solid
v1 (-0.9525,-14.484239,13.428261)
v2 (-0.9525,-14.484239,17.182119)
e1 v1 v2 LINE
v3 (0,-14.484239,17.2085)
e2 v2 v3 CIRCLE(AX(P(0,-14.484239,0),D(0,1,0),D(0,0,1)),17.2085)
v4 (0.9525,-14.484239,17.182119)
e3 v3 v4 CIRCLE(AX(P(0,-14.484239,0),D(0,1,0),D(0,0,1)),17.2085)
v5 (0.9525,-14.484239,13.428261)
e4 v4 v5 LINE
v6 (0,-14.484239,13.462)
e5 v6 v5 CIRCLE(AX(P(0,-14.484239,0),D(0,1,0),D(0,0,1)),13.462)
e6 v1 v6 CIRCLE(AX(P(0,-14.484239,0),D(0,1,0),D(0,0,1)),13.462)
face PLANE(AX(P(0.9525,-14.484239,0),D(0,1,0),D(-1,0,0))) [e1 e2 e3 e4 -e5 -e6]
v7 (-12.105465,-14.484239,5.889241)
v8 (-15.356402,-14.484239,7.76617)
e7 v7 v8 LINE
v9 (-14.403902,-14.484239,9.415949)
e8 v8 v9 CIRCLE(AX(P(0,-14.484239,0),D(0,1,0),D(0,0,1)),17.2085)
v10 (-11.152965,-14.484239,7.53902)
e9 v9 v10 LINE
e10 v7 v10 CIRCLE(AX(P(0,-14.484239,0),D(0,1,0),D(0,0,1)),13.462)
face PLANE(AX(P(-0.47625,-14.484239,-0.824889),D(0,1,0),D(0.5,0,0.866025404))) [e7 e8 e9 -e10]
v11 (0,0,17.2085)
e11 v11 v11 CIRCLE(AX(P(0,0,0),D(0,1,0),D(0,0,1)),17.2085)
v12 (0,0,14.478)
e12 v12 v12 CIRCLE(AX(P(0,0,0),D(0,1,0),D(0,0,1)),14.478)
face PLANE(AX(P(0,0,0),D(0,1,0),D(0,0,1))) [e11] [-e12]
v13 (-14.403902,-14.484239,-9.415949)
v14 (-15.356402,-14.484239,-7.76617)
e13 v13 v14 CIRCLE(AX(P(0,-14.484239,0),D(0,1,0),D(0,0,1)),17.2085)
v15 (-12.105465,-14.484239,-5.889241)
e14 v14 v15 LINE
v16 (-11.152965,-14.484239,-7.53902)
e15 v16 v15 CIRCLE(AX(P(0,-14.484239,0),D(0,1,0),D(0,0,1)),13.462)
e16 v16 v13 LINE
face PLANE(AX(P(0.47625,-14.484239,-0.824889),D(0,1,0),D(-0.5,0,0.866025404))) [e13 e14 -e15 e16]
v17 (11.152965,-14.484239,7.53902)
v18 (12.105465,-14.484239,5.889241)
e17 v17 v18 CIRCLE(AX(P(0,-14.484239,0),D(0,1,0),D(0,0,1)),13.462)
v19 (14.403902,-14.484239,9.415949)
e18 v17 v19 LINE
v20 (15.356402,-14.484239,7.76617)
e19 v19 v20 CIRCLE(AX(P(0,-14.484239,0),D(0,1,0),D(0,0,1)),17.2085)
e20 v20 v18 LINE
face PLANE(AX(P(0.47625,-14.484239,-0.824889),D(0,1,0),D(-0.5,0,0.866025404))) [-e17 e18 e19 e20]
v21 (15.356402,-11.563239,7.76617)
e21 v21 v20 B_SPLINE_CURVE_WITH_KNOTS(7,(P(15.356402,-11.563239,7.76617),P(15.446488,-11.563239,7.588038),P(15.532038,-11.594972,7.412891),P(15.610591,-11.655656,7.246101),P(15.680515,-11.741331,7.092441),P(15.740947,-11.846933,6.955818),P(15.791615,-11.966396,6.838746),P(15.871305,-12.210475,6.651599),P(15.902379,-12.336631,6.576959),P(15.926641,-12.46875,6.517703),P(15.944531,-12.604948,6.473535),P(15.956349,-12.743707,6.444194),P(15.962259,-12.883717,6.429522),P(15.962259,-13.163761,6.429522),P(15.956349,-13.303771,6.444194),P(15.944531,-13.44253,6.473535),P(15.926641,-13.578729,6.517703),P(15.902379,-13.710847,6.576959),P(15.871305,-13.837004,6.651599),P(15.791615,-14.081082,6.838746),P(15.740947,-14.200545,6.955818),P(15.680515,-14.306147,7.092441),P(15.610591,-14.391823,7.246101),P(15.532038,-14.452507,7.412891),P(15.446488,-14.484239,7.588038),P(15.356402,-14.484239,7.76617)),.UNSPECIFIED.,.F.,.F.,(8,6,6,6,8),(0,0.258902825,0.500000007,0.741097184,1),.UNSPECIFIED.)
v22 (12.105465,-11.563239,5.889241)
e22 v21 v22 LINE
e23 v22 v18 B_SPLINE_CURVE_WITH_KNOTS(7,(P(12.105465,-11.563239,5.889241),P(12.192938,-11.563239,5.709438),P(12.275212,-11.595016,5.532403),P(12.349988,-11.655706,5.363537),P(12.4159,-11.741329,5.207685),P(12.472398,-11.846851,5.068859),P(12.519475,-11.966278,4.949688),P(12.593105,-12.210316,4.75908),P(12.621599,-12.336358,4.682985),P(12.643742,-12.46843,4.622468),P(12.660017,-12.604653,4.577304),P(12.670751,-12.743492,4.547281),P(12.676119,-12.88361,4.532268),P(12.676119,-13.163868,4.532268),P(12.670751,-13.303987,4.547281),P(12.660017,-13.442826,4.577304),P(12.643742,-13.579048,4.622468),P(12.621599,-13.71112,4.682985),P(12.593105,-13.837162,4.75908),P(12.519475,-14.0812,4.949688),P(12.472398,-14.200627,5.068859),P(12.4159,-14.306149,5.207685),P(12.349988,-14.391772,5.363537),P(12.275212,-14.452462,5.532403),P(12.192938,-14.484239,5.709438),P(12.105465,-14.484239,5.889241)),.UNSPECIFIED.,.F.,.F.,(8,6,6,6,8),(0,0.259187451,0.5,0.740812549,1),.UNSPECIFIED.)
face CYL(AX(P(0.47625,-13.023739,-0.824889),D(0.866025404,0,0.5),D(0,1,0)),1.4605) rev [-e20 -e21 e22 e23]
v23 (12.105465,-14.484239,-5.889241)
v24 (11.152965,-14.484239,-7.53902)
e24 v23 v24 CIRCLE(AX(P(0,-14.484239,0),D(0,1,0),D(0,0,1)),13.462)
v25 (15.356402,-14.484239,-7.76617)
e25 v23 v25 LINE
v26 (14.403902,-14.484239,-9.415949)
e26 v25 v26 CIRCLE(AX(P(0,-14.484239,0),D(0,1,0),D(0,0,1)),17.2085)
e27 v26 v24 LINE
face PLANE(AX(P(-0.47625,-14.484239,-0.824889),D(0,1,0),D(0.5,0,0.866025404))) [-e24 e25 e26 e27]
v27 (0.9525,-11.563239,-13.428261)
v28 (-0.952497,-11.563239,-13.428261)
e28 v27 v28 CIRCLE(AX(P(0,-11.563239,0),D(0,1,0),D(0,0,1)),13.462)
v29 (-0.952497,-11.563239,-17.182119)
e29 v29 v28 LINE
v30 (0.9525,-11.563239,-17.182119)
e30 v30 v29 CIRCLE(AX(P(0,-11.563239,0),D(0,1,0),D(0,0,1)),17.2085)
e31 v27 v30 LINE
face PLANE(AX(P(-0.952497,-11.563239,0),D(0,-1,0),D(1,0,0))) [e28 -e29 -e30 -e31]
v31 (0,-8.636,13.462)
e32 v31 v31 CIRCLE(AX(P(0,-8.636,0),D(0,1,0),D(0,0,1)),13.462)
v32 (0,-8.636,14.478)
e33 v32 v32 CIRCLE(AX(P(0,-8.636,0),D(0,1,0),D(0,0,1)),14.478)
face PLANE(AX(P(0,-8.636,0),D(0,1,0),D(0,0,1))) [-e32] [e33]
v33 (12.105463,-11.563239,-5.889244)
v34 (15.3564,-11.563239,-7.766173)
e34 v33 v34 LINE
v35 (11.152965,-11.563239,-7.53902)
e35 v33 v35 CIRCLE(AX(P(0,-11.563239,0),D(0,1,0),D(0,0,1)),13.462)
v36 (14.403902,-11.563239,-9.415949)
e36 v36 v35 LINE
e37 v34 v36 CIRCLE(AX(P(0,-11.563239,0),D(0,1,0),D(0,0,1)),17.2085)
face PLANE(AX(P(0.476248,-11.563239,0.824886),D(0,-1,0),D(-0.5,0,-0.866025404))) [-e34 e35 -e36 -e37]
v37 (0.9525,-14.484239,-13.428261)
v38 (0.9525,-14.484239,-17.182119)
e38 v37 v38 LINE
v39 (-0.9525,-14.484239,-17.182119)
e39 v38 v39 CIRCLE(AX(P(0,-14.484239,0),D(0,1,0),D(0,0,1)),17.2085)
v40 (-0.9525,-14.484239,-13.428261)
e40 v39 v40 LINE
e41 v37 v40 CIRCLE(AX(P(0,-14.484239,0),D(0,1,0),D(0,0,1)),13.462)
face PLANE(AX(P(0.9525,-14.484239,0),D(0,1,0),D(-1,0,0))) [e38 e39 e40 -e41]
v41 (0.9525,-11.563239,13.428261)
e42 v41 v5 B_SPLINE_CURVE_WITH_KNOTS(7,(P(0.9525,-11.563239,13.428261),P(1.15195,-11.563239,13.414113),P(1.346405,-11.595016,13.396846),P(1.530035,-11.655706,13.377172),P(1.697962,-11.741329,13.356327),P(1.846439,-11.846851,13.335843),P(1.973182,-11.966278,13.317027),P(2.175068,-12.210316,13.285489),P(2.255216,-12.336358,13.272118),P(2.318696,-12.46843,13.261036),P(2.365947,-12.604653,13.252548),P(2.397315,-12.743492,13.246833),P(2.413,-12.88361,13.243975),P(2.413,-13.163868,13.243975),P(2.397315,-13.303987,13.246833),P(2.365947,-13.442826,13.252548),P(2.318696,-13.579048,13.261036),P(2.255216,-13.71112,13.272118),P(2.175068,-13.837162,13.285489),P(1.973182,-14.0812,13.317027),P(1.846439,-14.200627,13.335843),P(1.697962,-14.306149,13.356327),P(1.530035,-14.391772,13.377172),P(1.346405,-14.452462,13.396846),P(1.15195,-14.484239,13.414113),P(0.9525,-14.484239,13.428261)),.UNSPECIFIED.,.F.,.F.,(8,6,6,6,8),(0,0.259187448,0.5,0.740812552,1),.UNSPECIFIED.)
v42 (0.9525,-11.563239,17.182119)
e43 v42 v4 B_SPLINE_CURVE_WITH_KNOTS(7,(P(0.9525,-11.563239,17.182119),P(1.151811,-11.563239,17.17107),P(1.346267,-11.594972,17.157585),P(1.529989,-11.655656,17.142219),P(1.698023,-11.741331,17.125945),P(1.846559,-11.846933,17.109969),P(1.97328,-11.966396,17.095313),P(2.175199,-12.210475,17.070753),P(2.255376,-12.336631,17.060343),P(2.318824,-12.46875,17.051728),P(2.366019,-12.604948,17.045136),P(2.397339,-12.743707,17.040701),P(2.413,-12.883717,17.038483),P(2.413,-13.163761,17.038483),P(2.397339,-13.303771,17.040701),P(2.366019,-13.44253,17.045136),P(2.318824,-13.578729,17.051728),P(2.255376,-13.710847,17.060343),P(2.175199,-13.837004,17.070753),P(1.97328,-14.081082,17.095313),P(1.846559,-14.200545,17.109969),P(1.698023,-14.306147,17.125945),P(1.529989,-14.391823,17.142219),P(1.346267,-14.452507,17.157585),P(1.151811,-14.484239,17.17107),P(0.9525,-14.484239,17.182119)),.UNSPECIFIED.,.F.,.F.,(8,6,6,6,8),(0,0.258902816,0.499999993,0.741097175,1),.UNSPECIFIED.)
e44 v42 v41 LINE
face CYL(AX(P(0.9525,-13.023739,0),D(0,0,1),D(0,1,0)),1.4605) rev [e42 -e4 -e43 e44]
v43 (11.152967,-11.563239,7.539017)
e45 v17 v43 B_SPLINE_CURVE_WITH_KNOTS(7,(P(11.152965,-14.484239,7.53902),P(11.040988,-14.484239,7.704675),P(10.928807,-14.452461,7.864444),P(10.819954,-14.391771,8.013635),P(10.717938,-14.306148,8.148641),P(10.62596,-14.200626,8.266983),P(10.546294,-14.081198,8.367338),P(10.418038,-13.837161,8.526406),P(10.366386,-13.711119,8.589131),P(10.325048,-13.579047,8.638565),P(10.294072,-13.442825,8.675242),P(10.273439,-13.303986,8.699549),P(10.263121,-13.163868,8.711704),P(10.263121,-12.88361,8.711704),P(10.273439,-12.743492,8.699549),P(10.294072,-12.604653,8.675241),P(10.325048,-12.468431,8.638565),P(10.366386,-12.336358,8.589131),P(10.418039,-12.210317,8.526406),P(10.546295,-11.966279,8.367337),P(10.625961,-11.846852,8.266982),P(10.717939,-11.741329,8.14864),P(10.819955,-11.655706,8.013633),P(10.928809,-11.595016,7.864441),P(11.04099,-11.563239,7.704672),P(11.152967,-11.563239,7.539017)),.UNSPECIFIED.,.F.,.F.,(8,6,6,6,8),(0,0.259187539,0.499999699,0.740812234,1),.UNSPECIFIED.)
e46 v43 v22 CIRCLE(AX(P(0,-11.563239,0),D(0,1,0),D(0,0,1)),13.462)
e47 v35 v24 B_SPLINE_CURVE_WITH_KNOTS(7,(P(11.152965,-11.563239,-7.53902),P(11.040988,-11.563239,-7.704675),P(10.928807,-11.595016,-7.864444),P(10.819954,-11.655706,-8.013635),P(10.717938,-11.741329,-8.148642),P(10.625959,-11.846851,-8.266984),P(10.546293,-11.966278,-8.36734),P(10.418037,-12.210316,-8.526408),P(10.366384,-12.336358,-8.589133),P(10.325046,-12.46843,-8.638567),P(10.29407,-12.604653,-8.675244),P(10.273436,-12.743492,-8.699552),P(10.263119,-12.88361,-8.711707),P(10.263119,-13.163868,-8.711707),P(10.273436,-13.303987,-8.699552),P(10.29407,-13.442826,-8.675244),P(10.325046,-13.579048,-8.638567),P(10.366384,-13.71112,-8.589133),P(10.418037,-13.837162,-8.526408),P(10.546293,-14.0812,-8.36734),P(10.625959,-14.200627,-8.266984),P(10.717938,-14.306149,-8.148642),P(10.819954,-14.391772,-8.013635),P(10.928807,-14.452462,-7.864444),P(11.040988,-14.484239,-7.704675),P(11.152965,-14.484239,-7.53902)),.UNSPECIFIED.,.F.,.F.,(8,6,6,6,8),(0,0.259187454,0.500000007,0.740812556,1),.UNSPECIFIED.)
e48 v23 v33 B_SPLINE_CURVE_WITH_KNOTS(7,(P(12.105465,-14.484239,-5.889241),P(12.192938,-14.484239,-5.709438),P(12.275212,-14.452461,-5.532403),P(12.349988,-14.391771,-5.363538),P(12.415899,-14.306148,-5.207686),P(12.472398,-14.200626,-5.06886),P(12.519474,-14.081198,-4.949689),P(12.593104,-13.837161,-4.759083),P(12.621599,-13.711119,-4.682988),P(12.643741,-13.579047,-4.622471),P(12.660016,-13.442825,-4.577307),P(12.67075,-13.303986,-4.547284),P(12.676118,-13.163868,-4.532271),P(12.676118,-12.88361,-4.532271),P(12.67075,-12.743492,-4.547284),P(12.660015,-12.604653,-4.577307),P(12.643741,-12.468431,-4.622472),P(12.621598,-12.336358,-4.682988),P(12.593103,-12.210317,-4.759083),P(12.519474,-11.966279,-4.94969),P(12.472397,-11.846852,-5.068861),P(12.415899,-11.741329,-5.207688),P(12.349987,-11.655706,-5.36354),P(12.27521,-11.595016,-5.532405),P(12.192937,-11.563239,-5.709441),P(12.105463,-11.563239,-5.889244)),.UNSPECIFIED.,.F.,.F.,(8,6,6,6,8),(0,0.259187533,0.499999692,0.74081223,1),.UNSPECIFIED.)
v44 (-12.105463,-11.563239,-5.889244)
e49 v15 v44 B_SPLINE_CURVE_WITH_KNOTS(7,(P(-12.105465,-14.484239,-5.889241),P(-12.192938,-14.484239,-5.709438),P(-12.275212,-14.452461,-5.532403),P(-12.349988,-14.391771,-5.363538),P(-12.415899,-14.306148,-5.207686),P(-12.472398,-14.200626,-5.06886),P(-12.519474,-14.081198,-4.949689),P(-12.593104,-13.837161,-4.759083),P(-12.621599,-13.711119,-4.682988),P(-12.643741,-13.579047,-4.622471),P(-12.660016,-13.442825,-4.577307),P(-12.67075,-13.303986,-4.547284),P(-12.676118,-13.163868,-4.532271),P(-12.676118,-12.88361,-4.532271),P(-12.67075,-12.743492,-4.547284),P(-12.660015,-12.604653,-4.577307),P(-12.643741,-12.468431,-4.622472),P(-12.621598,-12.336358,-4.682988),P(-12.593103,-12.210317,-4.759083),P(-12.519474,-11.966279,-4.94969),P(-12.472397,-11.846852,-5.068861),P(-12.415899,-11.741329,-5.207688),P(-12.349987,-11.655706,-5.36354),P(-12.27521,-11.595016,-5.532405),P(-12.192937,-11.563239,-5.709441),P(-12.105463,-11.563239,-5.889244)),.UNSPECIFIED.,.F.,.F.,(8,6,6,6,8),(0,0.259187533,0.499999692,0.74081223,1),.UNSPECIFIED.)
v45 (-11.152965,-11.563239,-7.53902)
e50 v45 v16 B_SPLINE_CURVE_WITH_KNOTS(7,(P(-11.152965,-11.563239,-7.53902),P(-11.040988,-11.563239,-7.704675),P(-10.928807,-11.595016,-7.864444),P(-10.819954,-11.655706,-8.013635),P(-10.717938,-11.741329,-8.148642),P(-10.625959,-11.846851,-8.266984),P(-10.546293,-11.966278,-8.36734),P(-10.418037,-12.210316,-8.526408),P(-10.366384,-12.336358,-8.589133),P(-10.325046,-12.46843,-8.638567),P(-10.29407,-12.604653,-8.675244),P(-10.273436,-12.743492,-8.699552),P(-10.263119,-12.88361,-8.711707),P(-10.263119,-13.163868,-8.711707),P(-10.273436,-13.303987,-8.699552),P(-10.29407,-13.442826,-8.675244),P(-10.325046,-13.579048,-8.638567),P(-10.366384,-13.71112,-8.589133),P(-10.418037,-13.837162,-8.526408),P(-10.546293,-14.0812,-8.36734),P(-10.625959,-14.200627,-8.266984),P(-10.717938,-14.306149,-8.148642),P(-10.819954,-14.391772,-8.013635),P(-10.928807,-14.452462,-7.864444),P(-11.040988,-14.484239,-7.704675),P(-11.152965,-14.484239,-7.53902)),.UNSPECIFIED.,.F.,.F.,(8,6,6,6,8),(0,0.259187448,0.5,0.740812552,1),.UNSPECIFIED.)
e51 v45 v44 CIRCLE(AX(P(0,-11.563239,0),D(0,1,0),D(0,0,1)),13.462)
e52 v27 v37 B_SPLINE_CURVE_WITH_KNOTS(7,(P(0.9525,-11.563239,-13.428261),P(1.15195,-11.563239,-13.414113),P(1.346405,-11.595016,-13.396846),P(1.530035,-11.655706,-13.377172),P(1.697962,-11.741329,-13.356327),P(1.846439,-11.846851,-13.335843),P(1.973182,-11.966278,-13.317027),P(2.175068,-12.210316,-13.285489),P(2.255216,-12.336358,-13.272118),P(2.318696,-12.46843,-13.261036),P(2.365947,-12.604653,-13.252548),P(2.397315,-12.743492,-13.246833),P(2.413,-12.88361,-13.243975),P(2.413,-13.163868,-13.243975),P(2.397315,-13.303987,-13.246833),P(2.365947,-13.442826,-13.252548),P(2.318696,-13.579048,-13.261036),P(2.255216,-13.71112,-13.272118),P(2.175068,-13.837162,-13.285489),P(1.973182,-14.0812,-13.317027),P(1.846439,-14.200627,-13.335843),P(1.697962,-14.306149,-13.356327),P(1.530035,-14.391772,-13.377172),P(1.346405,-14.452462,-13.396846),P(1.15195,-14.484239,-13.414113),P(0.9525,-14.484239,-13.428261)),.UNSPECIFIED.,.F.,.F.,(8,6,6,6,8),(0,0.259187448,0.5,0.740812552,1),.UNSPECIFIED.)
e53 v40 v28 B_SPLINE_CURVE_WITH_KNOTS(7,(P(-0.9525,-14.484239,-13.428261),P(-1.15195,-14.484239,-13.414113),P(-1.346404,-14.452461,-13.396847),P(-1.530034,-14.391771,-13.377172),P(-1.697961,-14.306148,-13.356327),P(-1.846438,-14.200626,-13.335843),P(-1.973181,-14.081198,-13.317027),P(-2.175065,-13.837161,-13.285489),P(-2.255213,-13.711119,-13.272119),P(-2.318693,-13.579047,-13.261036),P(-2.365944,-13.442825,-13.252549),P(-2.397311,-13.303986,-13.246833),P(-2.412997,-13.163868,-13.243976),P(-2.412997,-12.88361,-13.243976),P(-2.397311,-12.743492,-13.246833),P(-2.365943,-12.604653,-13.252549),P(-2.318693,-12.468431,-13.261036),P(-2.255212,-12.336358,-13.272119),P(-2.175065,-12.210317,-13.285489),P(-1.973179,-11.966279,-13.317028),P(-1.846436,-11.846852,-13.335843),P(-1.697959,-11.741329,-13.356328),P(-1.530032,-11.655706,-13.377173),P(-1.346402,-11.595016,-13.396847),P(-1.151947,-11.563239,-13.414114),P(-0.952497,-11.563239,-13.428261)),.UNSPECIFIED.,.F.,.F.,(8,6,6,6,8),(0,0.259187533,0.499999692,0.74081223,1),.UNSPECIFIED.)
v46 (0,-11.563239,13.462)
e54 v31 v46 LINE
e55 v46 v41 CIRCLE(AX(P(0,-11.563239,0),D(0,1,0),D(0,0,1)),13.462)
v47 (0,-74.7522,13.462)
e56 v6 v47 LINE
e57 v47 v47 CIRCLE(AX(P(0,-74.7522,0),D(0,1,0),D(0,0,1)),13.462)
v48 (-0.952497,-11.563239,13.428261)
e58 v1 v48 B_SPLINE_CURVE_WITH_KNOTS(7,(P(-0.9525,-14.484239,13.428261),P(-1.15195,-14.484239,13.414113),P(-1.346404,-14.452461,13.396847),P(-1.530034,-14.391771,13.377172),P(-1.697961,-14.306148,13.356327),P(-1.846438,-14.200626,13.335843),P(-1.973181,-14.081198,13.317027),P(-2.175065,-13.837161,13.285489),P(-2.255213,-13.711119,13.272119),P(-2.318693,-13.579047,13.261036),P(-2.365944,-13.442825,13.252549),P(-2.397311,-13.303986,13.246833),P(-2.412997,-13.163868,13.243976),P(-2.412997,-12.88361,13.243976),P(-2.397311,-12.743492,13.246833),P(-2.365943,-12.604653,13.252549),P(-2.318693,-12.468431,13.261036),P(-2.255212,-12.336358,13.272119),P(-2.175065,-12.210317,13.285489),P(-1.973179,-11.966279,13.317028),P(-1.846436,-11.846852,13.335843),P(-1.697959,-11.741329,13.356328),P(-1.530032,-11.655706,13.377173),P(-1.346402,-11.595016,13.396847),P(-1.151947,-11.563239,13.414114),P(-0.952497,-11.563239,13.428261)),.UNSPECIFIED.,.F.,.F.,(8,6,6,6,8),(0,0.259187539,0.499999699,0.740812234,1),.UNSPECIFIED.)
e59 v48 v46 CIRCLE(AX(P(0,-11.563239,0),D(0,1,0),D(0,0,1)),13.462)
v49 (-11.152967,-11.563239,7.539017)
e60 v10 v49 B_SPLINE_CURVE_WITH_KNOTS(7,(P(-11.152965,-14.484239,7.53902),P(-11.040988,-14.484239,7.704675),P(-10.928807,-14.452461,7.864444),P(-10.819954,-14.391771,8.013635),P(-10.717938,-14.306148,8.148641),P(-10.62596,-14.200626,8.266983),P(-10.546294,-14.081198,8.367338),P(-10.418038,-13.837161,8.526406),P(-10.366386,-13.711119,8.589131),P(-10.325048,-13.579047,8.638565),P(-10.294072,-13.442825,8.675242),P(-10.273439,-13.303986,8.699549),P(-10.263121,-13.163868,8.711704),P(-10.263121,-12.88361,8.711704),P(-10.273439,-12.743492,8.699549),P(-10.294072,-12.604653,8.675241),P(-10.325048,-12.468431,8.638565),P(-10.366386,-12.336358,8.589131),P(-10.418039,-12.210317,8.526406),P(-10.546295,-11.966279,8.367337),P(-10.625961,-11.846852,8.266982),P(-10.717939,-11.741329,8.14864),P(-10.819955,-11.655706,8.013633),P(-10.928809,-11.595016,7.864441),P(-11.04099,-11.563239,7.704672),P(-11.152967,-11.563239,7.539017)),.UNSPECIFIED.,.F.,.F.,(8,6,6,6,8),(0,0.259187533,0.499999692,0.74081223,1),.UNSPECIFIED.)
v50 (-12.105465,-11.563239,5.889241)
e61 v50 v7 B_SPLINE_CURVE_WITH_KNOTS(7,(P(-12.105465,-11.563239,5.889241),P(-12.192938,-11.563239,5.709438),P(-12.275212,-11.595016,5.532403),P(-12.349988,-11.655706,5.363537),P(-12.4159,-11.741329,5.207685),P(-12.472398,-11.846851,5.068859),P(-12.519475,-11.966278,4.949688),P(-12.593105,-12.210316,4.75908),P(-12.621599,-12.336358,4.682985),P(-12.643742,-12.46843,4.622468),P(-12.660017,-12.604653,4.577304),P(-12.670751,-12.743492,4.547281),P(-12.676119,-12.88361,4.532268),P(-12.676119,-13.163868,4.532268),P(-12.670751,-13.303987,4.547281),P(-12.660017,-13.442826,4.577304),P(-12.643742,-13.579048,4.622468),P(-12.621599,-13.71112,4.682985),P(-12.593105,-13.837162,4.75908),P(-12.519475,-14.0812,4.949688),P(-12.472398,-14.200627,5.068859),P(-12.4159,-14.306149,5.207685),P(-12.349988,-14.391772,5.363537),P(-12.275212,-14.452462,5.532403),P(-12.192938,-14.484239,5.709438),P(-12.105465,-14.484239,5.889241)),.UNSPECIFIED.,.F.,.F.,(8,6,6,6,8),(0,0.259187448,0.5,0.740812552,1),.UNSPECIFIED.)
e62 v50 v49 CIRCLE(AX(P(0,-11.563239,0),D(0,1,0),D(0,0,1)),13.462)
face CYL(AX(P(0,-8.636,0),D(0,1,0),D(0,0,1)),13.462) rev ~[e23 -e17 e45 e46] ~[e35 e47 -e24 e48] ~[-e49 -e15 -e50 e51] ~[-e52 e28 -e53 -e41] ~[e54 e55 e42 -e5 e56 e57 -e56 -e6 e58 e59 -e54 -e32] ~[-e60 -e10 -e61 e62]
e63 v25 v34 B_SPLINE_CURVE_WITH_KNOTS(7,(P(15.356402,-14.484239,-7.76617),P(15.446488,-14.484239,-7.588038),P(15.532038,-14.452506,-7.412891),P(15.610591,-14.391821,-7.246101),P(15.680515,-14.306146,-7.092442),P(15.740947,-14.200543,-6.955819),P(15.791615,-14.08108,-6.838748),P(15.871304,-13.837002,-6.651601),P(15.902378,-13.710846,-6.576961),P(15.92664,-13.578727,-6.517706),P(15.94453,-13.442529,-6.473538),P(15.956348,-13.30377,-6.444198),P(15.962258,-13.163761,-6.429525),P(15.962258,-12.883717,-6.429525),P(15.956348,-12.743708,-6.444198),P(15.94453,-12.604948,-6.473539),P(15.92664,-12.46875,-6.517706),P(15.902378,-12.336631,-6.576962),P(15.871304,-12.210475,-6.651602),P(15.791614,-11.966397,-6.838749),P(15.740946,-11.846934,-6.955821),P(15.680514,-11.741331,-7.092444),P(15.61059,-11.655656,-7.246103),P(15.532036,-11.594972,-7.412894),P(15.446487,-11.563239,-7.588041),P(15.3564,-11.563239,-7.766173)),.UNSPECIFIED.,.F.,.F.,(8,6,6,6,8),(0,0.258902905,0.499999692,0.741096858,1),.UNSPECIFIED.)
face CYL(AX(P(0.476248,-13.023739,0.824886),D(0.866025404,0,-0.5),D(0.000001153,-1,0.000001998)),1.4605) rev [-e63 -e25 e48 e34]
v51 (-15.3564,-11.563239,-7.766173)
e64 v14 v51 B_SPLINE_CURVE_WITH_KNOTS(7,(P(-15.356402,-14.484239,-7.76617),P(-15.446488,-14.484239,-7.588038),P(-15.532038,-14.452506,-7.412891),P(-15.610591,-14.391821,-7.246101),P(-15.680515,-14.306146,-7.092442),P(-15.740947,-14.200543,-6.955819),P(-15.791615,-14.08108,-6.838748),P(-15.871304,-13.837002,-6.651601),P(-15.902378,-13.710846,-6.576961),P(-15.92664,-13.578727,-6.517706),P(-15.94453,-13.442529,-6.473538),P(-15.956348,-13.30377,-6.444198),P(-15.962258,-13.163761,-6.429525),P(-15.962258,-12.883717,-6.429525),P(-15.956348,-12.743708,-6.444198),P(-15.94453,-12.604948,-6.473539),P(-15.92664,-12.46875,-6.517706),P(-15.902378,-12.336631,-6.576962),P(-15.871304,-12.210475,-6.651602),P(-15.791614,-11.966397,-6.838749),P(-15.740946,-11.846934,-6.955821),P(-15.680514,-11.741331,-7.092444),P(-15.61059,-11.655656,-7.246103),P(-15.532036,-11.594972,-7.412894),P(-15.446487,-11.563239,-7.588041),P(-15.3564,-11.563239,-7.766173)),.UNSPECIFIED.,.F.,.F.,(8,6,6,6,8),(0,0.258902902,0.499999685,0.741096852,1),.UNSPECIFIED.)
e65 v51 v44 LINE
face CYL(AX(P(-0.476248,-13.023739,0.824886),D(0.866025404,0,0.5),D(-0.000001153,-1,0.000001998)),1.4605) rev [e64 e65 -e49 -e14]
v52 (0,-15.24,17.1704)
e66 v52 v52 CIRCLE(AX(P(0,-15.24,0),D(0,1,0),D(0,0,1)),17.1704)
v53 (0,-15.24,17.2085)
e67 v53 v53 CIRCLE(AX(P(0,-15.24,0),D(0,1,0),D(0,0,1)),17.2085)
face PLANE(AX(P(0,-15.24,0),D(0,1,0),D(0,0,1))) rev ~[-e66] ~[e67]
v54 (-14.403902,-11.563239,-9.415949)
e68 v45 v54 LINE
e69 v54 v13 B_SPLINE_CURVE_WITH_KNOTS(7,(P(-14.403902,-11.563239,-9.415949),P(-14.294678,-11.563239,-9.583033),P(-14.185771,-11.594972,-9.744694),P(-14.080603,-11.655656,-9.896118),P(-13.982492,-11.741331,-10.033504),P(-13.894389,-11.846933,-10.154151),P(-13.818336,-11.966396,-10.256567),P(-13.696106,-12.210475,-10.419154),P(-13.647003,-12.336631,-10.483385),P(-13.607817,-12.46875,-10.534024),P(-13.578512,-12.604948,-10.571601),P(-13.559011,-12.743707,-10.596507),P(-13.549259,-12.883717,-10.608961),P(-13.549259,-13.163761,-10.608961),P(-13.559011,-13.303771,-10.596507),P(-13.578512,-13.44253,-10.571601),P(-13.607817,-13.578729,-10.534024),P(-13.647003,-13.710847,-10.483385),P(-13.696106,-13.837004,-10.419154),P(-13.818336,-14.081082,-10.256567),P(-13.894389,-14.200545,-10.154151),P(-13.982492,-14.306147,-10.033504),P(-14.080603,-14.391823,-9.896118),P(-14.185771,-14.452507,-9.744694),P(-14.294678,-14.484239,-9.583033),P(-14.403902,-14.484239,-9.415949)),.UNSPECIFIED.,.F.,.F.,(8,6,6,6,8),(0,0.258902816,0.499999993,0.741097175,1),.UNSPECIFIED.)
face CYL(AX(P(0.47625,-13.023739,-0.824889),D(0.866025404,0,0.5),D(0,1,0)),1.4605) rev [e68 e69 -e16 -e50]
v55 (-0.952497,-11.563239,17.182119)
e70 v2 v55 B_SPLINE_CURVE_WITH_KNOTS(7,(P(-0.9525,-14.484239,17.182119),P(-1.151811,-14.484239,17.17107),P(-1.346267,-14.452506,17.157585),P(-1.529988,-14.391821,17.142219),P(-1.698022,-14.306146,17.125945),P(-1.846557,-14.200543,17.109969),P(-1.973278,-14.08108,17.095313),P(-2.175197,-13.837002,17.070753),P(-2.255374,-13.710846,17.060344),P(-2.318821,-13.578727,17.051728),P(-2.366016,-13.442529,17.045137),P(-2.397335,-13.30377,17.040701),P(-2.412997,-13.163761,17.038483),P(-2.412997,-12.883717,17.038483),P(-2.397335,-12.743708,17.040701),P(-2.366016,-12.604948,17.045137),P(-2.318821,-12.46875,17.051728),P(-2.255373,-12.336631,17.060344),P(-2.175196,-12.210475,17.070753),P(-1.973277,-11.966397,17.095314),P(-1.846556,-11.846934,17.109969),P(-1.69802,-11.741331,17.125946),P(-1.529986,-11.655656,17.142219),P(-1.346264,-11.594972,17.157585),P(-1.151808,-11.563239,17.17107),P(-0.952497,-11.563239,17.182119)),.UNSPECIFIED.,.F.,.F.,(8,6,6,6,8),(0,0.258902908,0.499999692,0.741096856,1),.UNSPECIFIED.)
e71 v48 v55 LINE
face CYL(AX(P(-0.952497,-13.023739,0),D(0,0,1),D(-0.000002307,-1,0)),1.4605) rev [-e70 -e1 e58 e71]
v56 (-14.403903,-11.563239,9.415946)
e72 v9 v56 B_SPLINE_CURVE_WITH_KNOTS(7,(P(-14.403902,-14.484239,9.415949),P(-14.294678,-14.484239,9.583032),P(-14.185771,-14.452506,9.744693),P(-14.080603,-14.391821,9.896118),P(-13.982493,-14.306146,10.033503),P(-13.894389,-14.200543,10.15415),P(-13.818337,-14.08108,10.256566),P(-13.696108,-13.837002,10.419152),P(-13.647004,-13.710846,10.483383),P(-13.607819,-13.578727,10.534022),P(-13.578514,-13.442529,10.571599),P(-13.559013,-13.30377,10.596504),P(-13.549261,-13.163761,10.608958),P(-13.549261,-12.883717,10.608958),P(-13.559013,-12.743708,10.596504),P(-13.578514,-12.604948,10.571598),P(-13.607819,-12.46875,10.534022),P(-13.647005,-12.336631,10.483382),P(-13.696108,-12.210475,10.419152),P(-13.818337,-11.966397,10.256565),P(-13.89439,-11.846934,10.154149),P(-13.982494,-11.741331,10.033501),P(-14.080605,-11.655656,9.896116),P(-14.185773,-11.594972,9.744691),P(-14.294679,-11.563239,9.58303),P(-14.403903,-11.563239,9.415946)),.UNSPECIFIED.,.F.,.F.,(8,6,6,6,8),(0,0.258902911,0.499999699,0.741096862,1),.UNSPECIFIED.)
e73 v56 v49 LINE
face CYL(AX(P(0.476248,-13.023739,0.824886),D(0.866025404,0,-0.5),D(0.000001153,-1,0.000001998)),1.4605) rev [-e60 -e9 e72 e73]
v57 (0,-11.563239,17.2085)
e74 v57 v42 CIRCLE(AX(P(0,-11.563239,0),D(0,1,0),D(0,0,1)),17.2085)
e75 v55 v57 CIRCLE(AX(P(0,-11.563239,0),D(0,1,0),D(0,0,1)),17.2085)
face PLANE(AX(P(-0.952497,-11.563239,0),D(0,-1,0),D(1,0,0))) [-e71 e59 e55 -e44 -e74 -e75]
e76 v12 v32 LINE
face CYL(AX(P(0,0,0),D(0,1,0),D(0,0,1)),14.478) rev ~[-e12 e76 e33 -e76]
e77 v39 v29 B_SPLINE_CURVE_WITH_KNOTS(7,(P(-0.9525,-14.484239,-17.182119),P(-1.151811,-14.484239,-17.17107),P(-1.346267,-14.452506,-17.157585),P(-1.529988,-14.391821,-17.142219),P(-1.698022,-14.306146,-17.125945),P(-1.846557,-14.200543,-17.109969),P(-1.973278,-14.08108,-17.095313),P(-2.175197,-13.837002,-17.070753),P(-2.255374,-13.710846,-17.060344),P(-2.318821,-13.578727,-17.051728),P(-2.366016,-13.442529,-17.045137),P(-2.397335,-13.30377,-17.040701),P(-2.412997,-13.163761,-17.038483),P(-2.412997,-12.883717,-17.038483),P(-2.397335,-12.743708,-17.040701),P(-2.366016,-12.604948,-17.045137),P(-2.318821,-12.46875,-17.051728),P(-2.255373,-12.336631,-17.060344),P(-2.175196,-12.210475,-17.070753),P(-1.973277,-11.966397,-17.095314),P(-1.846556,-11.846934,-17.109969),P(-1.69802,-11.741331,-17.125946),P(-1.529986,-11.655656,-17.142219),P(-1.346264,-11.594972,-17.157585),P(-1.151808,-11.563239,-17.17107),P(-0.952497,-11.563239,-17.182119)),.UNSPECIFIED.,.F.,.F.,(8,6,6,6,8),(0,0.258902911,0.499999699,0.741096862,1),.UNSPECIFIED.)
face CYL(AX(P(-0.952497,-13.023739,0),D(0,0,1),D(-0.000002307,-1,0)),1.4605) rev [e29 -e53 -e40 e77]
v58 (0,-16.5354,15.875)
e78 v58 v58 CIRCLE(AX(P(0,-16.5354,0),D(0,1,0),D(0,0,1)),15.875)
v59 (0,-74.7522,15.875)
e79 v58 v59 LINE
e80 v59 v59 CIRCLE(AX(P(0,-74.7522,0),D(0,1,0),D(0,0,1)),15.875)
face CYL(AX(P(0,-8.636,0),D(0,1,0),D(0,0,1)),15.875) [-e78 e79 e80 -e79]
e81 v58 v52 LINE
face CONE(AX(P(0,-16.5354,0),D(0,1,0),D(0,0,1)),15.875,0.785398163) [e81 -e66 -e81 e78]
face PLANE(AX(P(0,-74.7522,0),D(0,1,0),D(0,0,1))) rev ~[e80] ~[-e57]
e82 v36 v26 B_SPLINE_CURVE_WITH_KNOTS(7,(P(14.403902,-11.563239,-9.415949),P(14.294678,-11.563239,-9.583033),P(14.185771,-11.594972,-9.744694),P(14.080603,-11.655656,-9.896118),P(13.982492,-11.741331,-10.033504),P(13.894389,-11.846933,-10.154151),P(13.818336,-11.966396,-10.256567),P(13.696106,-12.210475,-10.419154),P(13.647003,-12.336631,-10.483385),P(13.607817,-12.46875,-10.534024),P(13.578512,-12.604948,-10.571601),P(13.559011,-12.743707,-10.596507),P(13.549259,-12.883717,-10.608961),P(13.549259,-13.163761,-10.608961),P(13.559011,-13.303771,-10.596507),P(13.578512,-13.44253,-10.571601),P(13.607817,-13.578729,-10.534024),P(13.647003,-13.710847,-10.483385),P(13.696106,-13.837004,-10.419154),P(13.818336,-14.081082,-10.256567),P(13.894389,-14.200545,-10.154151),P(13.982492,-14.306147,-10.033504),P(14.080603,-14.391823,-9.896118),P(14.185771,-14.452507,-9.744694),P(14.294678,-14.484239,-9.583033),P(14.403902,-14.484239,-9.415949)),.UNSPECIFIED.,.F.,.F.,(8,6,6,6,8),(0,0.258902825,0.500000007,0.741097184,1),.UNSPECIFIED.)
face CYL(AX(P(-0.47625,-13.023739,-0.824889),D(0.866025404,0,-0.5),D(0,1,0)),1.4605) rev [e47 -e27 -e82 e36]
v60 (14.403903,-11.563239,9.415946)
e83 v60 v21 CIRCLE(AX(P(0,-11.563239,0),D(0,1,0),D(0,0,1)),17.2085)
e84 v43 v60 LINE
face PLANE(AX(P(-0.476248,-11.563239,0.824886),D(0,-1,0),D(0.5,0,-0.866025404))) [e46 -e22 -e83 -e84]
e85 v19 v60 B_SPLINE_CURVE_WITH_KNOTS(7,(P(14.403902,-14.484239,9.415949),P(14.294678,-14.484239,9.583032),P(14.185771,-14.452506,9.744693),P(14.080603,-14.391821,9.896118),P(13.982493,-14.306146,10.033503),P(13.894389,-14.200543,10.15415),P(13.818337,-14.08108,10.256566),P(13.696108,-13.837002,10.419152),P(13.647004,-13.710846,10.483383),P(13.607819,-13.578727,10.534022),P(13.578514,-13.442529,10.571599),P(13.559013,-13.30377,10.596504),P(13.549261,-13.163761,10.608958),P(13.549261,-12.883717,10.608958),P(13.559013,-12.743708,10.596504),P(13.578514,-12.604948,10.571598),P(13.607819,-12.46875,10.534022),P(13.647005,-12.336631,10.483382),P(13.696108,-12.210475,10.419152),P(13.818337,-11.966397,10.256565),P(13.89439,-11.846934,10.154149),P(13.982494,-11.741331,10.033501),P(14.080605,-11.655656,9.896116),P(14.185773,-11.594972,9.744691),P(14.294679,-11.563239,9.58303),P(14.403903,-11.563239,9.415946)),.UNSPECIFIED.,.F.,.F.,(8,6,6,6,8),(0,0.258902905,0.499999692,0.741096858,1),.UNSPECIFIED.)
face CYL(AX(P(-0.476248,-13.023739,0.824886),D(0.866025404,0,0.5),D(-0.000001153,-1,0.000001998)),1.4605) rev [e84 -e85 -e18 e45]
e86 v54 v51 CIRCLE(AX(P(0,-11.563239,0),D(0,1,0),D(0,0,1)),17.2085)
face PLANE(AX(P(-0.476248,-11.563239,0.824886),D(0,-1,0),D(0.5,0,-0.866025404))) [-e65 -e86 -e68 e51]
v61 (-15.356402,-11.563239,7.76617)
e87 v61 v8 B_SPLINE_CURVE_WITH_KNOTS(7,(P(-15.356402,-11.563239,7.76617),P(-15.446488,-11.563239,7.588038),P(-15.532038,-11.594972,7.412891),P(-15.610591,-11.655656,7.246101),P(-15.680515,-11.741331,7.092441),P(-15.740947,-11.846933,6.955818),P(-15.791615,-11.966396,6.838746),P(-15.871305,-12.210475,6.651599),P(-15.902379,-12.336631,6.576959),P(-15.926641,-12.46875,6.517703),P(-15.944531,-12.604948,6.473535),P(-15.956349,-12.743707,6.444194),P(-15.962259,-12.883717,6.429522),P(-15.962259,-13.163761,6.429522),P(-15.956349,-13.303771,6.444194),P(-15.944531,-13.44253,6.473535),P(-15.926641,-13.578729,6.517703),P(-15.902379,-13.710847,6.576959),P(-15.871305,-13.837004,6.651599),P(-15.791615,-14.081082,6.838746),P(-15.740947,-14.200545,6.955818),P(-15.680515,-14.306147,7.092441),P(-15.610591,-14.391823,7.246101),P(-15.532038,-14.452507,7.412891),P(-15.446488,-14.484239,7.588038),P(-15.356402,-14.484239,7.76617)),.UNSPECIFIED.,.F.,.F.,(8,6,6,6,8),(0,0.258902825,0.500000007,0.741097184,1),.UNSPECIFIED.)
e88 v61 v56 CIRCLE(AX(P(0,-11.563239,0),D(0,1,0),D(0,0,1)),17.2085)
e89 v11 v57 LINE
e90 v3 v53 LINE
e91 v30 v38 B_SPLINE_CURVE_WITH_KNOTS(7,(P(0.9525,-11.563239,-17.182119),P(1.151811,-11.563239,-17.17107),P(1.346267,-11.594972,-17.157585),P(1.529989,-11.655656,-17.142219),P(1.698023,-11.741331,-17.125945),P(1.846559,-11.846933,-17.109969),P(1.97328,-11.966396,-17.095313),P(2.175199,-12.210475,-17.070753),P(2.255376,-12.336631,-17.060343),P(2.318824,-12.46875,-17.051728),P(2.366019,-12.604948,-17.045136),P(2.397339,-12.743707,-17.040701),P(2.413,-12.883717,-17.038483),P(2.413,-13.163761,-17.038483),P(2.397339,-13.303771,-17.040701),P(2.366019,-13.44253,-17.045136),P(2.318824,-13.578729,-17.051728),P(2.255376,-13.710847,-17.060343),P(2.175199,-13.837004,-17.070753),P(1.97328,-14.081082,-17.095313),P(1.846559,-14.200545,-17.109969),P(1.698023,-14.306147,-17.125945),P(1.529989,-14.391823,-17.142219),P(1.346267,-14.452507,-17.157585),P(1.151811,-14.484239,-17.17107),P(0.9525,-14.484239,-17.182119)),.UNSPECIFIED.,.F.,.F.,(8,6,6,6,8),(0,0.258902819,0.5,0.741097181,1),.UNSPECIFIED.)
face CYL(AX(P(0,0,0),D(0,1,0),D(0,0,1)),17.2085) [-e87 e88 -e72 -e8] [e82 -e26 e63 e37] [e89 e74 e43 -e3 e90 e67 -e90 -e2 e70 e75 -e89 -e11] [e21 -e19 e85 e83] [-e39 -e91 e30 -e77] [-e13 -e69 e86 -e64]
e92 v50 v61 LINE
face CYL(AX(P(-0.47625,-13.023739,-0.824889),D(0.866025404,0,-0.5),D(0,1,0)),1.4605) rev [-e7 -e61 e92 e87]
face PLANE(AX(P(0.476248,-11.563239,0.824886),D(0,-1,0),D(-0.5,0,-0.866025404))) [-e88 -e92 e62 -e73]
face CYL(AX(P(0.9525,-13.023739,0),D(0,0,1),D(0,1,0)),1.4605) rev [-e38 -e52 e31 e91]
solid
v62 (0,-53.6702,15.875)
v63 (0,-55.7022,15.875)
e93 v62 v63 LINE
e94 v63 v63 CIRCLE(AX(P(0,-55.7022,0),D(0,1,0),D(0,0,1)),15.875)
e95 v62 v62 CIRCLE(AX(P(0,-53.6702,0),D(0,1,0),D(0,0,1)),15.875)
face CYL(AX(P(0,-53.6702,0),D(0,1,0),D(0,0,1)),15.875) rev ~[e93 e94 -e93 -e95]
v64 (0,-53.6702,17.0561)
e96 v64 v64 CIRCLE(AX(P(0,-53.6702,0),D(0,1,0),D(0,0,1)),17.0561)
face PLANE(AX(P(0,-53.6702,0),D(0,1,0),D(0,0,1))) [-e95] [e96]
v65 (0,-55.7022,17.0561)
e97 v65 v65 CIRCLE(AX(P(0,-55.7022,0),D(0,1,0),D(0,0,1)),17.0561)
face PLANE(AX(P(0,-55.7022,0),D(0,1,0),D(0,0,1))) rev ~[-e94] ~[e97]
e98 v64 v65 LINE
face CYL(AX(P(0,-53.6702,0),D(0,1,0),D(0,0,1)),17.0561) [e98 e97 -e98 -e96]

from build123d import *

# Parameters (mm, degrees)
SKETCH1_R           = 17.2085
SKETCH1_R_2         = 14.478
BOSS_EXTRUDE1_DEPTH = 15.24
SKETCH2_R           = 15.875
SKETCH2_R_2         = 13.462
BOSS_EXTRUDE2_DEPTH = 66.1162
SKETCH3_R           = 17.0561
SKETCH3_R_2         = 15.875
BOSS_EXTRUDE3_DEPTH = 2.032
CUT_EXTRUDE1_DEPTH  = 23.876
CIRPATTERN1_COUNT   = 3
CIRPATTERN1_ANGLE   = 120
CHAMFER1_SIZE       = 1.2954


with BuildPart() as part:
    # Sketch1 → Boss-Extrude1 (new body)
    with BuildSketch(Plane(origin=(0, 0, 0), x_dir=(1, 0, 0), z_dir=(0, 1, 0))):
        with Locations(Location((0, 0, 0), (0, 0, 270))):
            Circle(SKETCH1_R)
        with Locations(Location((0, 0, 0), (0, 0, 270))):
            Circle(SKETCH1_R_2, mode=Mode.SUBTRACT)
    extrude(amount=-BOSS_EXTRUDE1_DEPTH)

    # Sketch2 → Boss-Extrude2 (add)
    with BuildSketch(Plane(origin=(0, -8.636, 0), x_dir=(-1, 0, 0), z_dir=(0, 1, 0))):
        with Locations(Location((0, 0, 0), (0, 0, 90))):
            Circle(SKETCH2_R)
        with Locations(Location((0, 0, 0), (0, 0, 90))):
            Circle(SKETCH2_R_2, mode=Mode.SUBTRACT)
    extrude(amount=-BOSS_EXTRUDE2_DEPTH)

    # Sketch5 → Cut-Extrude1 (cut, symmetric)
    with BuildSketch(Plane.XY):
        with BuildLine():
            Line((-0.952496631, -11.563239179), (0.9525, -11.563239179))
            ThreePointArc((0.9525, -11.563239179), (2.413, -13.023739179), (0.9525, -14.484239179))
            Line((0.9525, -14.484239179), (-0.9525, -14.484239179))
            ThreePointArc((-0.9525, -14.484239179), (-2.412996631, -13.023737494), (-0.952496631, -11.563239179))
        make_face()
    cut_extrude1 = extrude(amount=CUT_EXTRUDE1_DEPTH, both=True, mode=Mode.SUBTRACT)

    # CirPattern1: Cut-Extrude1 ×3 about axis
    cirpattern1_axis = Axis((0, -15.24, 0), (0, 1, 0))
    for i in range(1, CIRPATTERN1_COUNT):
        add(cut_extrude1.rotate(cirpattern1_axis, i * CIRPATTERN1_ANGLE / (CIRPATTERN1_COUNT - 1)), mode=Mode.SUBTRACT)

    # Chamfer1
    chamfer1_edges = [part.edges().sort_by_distance(p)[0] for p in [
        (0, -15.24, -15.875),
    ]]
    chamfer(chamfer1_edges, length=CHAMFER1_SIZE)


with BuildPart() as body_2:
    # Sketch3 → Boss-Extrude3 (new body)
    with BuildSketch(Plane(origin=(0, -53.6702, 0), x_dir=(-1, 0, 0), z_dir=(0, 1, 0))):
        with Locations(Location((0, 0, 0), (0, 0, 90))):
            Circle(SKETCH3_R)
        with Locations(Location((0, 0, 0), (0, 0, 90))):
            Circle(SKETCH3_R_2, mode=Mode.SUBTRACT)
    extrude(amount=-BOSS_EXTRUDE3_DEPTH)


solid = Compound([part.part, body_2.part])
